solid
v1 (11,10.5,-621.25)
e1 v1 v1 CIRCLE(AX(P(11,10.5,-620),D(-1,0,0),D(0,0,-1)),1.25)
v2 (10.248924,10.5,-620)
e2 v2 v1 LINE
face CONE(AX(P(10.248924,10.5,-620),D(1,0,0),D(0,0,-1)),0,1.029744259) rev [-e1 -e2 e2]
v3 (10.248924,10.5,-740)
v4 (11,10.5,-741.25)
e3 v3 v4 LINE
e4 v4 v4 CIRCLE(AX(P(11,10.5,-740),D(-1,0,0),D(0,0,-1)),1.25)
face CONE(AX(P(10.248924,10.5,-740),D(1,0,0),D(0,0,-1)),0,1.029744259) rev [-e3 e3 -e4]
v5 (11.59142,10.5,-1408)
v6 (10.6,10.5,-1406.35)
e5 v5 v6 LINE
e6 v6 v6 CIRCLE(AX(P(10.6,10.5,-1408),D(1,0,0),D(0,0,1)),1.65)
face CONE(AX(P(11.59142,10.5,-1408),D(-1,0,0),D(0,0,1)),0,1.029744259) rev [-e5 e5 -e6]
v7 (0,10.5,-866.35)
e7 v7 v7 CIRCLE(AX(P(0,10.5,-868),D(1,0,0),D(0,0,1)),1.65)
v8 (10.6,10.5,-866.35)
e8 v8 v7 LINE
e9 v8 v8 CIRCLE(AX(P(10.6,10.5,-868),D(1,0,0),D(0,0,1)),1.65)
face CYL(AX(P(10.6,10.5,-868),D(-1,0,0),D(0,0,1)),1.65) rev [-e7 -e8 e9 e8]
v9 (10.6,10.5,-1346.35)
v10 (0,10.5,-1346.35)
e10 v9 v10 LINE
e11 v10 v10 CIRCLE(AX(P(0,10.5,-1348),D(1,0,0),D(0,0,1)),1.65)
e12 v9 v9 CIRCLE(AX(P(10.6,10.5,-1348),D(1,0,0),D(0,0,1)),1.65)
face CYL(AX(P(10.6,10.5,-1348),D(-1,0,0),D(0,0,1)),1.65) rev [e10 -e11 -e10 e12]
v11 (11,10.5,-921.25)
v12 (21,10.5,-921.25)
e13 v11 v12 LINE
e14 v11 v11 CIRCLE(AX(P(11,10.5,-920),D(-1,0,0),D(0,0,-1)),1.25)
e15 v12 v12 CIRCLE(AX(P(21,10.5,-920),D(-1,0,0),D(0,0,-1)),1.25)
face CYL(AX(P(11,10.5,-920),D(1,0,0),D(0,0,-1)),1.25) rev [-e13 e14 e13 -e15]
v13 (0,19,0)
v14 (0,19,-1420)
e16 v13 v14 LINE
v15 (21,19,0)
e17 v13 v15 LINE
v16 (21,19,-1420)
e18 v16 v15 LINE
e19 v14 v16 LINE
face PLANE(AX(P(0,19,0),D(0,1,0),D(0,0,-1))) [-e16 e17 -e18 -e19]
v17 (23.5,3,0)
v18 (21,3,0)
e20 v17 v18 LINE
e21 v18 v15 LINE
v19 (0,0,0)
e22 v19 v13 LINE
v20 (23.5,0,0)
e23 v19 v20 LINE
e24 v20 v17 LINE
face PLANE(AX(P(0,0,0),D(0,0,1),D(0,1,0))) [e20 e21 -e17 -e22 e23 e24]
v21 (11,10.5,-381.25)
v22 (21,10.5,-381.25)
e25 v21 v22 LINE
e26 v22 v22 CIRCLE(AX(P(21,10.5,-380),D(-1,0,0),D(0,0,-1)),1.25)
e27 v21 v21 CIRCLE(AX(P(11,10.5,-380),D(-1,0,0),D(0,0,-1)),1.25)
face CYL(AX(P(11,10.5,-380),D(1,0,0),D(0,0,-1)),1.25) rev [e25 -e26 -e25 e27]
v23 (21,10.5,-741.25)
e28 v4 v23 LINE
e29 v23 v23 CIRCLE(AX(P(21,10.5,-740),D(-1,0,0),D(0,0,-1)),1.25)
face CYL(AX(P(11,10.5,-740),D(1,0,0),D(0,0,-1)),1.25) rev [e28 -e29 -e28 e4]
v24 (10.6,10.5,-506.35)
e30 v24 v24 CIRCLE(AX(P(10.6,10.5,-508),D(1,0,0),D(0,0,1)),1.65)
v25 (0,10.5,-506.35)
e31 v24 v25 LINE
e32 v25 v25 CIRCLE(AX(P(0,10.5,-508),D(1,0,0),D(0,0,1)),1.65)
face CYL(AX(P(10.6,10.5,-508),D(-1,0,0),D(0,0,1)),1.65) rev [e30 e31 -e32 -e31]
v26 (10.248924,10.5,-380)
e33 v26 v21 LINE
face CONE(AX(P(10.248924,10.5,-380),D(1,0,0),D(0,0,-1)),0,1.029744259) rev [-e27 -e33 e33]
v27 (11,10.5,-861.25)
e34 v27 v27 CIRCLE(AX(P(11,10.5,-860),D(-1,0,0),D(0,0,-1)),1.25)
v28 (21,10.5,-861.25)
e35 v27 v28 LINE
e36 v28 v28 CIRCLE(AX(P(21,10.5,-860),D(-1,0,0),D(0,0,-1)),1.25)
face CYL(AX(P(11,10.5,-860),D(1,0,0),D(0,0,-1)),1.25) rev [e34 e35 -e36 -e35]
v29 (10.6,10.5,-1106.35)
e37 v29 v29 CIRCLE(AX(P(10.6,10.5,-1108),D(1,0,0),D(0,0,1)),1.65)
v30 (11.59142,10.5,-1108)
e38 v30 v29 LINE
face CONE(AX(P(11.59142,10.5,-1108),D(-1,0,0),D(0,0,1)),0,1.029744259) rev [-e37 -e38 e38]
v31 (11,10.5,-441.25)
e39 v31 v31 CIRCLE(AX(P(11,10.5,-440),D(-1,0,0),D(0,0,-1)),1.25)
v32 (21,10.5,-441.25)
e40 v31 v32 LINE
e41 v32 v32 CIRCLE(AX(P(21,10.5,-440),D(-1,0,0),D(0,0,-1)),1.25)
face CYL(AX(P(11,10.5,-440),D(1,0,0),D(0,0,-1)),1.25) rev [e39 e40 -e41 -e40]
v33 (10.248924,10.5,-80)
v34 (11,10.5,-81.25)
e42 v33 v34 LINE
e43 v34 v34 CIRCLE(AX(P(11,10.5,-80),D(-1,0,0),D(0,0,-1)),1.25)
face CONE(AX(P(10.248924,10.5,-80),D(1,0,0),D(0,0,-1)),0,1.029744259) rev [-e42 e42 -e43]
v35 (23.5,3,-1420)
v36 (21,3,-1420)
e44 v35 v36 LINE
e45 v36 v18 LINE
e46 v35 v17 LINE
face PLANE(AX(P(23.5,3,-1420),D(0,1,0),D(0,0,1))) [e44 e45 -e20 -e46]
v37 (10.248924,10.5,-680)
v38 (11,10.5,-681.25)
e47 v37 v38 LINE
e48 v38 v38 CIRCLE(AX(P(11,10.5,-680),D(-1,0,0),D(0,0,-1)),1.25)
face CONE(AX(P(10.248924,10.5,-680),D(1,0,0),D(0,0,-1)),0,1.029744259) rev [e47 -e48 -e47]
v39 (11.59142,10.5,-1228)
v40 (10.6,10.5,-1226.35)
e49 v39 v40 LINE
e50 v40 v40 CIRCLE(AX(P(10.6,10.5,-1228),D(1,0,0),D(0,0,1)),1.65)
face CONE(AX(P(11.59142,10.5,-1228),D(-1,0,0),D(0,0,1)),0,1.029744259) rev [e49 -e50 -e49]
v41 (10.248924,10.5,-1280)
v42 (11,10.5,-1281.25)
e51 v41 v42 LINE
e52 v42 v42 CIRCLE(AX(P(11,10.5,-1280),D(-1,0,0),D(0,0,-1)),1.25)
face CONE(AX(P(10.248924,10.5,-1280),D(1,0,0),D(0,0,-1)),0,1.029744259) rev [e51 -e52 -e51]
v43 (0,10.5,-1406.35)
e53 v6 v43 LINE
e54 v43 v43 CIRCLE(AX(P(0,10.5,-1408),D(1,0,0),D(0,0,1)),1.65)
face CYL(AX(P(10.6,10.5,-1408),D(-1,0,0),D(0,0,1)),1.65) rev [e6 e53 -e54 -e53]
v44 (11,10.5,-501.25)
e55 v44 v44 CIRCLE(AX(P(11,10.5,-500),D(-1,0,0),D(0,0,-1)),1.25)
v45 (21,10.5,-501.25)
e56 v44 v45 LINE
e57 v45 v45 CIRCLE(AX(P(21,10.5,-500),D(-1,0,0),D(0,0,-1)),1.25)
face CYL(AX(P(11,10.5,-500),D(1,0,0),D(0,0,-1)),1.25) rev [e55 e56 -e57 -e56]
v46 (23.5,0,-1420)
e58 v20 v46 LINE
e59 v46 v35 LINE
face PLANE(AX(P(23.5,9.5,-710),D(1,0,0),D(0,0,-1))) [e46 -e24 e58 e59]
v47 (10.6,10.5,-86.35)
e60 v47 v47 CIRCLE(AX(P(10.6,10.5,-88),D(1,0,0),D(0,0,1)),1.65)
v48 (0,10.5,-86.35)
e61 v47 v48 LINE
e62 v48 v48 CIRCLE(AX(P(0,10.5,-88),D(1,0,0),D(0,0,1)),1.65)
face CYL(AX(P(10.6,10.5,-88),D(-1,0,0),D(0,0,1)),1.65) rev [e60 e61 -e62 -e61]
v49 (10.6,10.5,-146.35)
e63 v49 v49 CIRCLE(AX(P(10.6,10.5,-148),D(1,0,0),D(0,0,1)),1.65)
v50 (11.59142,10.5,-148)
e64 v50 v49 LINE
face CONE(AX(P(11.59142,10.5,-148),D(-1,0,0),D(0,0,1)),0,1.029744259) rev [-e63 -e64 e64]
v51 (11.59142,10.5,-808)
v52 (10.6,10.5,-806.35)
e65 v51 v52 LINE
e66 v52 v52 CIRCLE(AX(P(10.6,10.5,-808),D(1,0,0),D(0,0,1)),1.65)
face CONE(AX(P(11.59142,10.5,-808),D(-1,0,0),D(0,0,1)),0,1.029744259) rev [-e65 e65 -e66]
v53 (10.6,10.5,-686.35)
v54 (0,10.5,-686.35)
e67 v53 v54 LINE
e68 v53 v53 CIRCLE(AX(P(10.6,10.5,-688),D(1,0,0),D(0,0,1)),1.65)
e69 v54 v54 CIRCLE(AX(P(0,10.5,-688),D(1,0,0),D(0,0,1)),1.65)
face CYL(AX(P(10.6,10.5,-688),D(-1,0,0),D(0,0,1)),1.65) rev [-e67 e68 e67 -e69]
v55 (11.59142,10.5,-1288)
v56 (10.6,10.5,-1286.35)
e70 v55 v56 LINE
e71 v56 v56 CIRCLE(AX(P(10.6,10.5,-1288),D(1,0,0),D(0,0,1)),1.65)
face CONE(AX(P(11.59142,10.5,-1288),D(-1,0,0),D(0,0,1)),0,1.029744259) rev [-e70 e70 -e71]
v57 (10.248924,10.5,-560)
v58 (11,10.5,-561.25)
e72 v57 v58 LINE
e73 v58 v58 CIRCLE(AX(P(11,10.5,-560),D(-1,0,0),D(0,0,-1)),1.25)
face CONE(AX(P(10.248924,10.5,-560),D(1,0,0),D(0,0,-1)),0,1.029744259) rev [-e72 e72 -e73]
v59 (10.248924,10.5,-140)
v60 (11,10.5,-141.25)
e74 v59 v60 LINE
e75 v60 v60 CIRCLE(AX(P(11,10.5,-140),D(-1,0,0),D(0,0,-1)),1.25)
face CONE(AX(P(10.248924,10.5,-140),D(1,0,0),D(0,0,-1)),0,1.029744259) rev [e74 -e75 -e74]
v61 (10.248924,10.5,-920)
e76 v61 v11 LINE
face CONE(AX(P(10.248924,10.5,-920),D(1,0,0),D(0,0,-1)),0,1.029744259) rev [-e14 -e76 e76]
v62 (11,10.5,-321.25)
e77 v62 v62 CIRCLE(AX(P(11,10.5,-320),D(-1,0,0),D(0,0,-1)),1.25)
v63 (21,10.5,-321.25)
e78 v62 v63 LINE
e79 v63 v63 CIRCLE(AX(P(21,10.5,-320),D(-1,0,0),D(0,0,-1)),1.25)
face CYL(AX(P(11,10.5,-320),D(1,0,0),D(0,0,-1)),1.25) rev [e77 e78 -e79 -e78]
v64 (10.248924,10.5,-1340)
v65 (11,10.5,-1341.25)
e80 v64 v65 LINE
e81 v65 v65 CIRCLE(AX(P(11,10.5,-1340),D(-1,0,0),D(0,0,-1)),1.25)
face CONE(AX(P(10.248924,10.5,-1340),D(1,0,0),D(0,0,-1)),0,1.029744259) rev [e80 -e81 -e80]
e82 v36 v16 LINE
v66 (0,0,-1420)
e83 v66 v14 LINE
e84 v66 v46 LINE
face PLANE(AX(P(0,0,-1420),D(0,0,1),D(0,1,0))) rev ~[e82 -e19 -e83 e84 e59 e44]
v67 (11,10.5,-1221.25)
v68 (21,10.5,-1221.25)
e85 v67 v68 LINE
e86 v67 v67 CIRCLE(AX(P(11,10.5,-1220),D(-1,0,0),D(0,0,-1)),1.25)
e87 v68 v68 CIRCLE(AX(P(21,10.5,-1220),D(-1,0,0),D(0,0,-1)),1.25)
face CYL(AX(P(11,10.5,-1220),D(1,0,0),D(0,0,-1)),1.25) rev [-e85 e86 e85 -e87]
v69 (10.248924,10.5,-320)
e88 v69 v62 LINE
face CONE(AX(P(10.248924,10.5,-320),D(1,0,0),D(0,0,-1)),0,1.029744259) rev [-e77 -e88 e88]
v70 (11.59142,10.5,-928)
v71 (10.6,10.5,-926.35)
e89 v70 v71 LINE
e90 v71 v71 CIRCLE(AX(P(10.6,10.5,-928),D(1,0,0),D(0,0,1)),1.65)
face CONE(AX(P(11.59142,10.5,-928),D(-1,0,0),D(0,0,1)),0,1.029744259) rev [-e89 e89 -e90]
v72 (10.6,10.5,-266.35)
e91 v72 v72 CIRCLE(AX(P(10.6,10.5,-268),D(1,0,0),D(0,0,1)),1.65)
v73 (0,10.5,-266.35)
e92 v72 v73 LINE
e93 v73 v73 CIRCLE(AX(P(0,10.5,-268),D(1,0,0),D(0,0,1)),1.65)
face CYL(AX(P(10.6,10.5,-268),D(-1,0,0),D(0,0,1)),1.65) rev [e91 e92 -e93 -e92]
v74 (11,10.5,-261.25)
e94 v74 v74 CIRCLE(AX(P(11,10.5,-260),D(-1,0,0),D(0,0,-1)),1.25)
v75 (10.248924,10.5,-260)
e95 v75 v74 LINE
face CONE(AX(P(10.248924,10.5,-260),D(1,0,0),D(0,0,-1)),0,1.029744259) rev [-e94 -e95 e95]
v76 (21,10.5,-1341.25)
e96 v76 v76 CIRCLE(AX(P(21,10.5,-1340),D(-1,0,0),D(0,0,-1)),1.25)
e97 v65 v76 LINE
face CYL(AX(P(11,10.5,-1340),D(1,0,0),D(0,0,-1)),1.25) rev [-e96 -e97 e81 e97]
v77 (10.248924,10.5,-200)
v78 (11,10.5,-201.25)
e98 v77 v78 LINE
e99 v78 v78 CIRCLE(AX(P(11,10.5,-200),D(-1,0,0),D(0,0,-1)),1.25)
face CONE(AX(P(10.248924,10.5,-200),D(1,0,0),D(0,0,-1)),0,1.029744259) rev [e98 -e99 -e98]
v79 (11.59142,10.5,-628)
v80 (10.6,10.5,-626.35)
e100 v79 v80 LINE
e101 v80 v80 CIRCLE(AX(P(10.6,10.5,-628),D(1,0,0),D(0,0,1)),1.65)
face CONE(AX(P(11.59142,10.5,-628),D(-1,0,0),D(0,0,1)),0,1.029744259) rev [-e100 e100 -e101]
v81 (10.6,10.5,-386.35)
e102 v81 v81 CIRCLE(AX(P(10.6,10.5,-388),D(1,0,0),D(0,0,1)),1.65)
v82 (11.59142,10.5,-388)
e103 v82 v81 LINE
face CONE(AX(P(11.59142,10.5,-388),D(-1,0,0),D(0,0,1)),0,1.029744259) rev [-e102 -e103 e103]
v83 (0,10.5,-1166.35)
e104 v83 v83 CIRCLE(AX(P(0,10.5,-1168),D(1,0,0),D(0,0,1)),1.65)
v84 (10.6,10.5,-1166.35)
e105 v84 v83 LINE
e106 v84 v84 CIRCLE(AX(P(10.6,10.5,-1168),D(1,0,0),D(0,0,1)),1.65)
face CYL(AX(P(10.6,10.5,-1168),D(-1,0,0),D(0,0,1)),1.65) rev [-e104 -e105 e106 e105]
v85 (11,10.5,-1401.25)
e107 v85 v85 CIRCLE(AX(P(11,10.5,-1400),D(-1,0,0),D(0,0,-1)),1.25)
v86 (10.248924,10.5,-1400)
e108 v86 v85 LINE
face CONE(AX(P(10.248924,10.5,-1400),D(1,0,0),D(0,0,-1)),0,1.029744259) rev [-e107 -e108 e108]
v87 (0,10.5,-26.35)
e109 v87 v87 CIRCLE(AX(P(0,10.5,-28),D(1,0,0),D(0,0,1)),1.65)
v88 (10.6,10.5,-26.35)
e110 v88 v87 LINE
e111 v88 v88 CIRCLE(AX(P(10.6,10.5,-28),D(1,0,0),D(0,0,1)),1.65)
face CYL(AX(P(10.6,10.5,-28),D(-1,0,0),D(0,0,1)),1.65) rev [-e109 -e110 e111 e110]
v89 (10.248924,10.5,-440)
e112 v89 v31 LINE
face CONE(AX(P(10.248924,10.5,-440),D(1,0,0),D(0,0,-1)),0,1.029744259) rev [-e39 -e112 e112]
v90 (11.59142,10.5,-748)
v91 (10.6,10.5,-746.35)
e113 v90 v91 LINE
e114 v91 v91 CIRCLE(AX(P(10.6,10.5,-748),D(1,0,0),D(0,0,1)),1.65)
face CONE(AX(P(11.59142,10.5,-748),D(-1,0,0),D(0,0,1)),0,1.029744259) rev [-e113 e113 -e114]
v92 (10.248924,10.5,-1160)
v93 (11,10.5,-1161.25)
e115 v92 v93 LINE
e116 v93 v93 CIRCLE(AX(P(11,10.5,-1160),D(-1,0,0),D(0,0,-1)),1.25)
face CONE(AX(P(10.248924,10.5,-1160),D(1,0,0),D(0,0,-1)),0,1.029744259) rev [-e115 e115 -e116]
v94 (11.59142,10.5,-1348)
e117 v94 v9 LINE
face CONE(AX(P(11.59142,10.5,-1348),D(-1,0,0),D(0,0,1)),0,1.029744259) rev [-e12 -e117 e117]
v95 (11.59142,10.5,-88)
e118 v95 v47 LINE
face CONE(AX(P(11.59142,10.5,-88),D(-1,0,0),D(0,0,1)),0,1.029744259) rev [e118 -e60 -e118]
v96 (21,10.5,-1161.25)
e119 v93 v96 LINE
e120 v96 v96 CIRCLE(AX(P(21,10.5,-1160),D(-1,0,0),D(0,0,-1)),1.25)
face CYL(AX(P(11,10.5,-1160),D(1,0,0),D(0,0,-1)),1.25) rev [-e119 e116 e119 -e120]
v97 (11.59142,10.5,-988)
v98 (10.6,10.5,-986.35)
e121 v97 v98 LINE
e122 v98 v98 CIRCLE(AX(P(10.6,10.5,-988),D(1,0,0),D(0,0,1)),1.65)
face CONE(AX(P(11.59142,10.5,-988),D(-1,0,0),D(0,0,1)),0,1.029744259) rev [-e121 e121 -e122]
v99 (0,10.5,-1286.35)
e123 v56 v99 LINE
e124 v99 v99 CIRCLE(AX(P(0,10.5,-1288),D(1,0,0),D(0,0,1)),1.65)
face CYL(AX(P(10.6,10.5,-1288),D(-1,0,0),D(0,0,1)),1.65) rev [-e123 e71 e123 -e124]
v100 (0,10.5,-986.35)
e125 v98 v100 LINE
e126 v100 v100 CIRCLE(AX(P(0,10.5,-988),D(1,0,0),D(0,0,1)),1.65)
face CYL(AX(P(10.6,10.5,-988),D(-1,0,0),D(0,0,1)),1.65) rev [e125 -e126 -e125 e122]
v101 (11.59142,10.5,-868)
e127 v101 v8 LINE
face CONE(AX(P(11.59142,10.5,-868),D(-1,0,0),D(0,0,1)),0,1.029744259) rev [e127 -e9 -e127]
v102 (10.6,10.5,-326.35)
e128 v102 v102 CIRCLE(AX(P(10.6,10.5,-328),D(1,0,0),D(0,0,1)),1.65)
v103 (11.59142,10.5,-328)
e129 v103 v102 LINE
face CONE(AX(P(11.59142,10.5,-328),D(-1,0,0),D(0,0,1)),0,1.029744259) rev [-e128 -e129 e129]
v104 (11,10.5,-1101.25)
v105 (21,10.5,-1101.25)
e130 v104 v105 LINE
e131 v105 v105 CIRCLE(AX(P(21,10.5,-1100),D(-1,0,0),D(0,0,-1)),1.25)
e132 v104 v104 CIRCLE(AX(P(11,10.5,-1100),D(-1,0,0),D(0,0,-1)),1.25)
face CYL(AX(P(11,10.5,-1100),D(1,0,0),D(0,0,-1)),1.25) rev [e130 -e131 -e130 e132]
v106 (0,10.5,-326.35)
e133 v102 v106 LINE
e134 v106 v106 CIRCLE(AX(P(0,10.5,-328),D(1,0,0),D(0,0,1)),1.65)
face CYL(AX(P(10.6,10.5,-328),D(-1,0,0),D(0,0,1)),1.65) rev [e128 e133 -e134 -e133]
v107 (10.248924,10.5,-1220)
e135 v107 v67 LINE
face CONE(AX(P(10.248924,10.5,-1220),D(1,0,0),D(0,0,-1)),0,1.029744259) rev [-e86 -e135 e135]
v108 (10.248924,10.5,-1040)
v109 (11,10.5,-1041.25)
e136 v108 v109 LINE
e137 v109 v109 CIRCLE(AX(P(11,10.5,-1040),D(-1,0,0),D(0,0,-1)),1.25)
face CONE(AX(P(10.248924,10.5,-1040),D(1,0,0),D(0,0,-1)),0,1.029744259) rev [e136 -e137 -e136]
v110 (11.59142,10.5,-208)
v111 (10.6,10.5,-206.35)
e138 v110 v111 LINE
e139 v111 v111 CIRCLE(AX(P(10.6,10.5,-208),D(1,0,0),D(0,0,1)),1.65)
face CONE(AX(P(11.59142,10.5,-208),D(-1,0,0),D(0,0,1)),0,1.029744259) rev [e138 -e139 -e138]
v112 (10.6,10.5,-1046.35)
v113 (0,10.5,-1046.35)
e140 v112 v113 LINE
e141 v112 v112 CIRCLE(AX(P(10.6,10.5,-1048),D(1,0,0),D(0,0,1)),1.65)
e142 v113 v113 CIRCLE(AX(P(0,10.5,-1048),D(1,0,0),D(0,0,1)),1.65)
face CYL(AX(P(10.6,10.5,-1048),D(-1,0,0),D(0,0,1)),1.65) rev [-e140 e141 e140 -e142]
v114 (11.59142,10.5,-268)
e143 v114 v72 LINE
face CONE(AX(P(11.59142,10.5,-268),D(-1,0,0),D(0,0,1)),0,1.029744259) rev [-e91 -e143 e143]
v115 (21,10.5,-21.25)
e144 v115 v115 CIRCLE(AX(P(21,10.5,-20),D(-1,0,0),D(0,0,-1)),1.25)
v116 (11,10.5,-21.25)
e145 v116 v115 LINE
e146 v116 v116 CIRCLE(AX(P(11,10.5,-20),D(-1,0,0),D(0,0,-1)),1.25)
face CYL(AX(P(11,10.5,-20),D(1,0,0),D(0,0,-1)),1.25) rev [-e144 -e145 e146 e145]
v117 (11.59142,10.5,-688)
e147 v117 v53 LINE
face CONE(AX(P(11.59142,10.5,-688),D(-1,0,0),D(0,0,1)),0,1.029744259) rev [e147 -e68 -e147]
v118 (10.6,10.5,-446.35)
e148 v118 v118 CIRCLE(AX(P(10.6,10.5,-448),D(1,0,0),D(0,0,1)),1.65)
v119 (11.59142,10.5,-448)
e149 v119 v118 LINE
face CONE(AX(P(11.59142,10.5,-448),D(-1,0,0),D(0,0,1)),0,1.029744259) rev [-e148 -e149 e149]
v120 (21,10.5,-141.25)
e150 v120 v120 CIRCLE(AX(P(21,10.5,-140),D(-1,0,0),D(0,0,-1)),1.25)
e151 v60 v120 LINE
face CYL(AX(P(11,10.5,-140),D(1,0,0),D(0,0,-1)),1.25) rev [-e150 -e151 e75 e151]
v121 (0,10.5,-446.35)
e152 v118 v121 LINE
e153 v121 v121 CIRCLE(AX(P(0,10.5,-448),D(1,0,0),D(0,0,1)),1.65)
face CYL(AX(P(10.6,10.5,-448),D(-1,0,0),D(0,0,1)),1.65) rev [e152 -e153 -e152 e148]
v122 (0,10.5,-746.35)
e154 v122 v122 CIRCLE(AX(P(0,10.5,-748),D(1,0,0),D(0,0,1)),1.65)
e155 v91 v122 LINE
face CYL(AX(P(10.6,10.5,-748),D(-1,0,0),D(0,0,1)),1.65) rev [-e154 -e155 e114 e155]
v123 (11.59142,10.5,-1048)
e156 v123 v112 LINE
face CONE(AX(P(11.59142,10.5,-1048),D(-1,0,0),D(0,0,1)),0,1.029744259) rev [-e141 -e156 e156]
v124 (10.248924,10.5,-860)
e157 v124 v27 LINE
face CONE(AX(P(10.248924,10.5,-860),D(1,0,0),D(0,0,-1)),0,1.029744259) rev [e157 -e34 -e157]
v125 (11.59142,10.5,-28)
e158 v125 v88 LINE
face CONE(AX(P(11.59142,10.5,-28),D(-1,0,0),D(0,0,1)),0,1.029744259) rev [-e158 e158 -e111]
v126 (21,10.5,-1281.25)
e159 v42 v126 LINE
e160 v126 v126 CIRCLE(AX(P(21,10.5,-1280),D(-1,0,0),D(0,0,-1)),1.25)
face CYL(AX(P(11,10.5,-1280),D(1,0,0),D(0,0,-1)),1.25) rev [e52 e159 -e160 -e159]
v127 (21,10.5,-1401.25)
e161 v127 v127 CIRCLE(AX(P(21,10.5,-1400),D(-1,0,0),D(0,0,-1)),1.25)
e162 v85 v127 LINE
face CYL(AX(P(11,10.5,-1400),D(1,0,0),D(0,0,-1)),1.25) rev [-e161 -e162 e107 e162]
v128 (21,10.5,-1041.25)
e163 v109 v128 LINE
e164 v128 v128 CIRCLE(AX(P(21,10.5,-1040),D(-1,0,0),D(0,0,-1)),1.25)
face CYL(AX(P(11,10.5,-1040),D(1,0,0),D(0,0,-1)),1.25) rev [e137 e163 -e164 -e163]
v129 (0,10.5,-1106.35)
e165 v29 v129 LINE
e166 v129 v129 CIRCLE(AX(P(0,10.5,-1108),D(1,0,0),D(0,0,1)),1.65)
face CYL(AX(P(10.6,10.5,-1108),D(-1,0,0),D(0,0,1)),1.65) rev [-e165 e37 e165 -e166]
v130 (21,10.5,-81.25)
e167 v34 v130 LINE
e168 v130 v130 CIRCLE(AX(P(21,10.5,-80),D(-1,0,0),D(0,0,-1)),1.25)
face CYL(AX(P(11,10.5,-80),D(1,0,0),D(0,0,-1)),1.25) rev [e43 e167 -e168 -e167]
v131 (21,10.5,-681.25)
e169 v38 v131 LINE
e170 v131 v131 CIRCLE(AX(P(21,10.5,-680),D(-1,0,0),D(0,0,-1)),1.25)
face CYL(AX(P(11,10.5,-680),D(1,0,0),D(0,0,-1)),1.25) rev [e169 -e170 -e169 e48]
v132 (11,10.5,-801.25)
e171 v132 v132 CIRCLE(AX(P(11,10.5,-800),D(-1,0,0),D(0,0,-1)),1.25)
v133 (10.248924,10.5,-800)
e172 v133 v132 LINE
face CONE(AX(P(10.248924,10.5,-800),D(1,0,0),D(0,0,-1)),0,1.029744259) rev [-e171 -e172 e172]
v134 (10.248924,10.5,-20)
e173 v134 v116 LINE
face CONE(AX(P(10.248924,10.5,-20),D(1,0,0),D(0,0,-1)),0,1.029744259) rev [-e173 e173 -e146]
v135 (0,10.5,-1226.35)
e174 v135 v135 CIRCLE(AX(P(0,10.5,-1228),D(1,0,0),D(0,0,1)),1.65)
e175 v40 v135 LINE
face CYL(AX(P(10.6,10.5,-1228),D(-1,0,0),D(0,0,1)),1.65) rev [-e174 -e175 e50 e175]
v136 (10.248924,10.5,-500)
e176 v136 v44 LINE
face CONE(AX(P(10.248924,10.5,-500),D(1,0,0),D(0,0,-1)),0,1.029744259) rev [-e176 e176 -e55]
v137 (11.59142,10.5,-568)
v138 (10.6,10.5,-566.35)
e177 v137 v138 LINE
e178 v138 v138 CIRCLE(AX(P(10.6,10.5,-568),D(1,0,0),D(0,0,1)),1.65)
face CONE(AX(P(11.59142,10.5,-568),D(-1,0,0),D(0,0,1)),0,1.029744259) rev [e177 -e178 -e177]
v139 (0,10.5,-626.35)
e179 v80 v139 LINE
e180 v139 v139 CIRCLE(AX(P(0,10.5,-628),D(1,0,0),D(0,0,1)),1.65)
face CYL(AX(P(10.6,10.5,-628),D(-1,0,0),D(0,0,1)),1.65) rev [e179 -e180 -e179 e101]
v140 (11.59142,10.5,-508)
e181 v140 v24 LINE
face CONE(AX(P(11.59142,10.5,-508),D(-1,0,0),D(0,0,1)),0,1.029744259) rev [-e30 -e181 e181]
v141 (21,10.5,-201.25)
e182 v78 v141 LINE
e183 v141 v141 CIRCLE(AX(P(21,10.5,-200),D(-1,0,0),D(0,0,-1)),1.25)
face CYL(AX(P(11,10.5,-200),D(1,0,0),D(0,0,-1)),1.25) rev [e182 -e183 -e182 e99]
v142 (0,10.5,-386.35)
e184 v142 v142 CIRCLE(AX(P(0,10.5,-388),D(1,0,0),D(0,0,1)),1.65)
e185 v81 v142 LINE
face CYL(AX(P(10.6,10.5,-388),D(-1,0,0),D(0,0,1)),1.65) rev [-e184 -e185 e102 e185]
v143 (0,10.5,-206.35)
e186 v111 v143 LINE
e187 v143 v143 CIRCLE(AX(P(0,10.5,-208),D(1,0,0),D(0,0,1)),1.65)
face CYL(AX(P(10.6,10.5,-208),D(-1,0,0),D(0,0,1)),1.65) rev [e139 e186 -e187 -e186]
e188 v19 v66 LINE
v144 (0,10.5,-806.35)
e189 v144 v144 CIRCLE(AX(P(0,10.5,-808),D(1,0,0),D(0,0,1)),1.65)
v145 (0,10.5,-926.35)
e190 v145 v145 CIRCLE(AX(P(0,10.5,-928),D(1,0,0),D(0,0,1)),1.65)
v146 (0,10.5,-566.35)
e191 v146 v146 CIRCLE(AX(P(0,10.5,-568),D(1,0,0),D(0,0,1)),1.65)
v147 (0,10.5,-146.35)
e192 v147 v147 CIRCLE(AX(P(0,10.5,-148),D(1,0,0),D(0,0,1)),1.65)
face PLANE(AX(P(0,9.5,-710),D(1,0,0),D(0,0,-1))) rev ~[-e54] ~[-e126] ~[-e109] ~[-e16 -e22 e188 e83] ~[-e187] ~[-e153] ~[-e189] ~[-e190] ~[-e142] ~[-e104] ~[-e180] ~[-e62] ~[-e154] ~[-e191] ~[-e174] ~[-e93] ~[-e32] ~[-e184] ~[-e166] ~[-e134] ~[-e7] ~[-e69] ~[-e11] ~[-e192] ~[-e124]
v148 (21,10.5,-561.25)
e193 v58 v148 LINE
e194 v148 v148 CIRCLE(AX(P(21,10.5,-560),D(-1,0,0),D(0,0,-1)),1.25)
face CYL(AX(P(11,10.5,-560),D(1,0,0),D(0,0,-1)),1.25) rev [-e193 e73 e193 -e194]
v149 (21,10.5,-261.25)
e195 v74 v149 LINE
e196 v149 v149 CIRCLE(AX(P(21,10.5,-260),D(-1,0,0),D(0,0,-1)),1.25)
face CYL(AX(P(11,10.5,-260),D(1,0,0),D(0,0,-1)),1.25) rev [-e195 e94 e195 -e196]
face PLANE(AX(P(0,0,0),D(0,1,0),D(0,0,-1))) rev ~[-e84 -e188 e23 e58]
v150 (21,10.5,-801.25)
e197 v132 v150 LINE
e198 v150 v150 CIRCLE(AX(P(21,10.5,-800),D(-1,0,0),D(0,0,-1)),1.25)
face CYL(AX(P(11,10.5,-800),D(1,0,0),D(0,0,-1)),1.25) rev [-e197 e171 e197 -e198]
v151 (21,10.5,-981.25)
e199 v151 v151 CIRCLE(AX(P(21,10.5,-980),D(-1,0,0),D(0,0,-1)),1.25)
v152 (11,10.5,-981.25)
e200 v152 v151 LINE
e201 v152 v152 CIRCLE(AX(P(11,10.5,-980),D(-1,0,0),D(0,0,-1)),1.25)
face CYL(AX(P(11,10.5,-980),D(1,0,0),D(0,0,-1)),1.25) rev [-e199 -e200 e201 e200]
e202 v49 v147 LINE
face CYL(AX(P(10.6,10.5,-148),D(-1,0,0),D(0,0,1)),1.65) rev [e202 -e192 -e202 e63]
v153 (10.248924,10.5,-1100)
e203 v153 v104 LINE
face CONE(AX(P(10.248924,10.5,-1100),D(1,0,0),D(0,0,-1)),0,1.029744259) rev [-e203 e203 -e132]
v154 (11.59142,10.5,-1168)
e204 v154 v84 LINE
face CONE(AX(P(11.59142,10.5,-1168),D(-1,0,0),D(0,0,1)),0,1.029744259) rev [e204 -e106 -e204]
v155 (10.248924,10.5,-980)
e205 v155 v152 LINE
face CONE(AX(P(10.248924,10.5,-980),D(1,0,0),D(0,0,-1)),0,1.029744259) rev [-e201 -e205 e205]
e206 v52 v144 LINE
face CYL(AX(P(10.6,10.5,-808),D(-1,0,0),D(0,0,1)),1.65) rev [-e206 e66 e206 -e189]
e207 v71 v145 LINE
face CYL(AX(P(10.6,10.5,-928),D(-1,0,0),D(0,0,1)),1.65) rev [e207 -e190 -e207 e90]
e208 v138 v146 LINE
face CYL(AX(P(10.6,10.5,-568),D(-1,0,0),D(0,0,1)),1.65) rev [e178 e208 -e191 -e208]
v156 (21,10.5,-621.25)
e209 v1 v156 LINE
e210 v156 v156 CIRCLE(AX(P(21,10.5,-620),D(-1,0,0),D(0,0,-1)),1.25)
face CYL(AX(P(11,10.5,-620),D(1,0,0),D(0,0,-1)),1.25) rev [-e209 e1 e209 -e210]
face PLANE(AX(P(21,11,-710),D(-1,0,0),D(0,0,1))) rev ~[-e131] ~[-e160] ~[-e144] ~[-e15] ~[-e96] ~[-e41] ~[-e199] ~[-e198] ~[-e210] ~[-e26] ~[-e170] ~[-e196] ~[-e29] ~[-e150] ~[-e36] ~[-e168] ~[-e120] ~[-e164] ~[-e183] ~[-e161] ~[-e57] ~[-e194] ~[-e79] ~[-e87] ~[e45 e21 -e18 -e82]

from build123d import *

# Parameters (mm, degrees)
SKETCH1_W           = 1420
SKETCH1_H           = 19
BOSS_EXTRUDE1_DEPTH = 23.5
SKETCH2_W           = 1420
SKETCH2_H           = 16
CUT_EXTRUDE1_DEPTH  = 2.5
LPATTERN1_COUNT     = 24
LPATTERN1_PITCH     = 60
LPATTERN2_COUNT     = 24
LPATTERN2_PITCH     = 60


with BuildPart() as part:
    # Sketch1 → Boss-Extrude1 (new body)
    with BuildSketch(Plane(origin=(0, 0, 0), x_dir=(0, 0, -1), z_dir=(1, 0, 0))):
        with Locations((710, 9.5)):
            Rectangle(SKETCH1_W, SKETCH1_H)
    extrude(amount=BOSS_EXTRUDE1_DEPTH)

    # Sketch2 → Cut-Extrude1 (cut)
    with BuildSketch(Plane.ZY.offset(-23.5)):
        with Locations((-710, 11)):
            Rectangle(SKETCH2_W, SKETCH2_H)
    extrude(amount=CUT_EXTRUDE1_DEPTH, mode=Mode.SUBTRACT)

    # Sketch3 → M4x0.7 Tapped Hole1 (revolve, cut)
    with BuildSketch(Plane(origin=(0, 10.5, -28), x_dir=(0, 0, 1), z_dir=(0, 1, 0))):
        Polygon((0, 0), (0, 11.591420021), (1.65, 10.6), (1.65, 0), align=None)
    m4x0_7_tapped_hole1 = revolve(axis=Axis((-6.35, 10.5, -28), (1, 0, 0)), mode=Mode.SUBTRACT)

    # LPattern1: M4x0.7 Tapped Hole1 ×24
    with Locations(*[(0, 0, -i * LPATTERN1_PITCH) for i in range(1, LPATTERN1_COUNT)]):
        add(m4x0_7_tapped_hole1, mode=Mode.SUBTRACT)

    # Sketch5 → M3x0.5 Tapped Hole1 (revolve, cut)
    with BuildSketch(Plane(origin=(21, 10.5, -20), x_dir=(0, 0, -1), z_dir=(0, 1, 0))):
        Polygon((0, 0), (0, 10.751075774), (1.25, 10), (1.25, 0), align=None)
    m3x0_5_tapped_hole1 = revolve(axis=Axis((27.35, 10.5, -20), (-1, 0, 0)), mode=Mode.SUBTRACT)

    # LPattern2: M3x0.5 Tapped Hole1 ×24
    with Locations(*[(0, 0, -i * LPATTERN2_PITCH) for i in range(1, LPATTERN2_COUNT)]):
        add(m3x0_5_tapped_hole1, mode=Mode.SUBTRACT)


solid = part.part
